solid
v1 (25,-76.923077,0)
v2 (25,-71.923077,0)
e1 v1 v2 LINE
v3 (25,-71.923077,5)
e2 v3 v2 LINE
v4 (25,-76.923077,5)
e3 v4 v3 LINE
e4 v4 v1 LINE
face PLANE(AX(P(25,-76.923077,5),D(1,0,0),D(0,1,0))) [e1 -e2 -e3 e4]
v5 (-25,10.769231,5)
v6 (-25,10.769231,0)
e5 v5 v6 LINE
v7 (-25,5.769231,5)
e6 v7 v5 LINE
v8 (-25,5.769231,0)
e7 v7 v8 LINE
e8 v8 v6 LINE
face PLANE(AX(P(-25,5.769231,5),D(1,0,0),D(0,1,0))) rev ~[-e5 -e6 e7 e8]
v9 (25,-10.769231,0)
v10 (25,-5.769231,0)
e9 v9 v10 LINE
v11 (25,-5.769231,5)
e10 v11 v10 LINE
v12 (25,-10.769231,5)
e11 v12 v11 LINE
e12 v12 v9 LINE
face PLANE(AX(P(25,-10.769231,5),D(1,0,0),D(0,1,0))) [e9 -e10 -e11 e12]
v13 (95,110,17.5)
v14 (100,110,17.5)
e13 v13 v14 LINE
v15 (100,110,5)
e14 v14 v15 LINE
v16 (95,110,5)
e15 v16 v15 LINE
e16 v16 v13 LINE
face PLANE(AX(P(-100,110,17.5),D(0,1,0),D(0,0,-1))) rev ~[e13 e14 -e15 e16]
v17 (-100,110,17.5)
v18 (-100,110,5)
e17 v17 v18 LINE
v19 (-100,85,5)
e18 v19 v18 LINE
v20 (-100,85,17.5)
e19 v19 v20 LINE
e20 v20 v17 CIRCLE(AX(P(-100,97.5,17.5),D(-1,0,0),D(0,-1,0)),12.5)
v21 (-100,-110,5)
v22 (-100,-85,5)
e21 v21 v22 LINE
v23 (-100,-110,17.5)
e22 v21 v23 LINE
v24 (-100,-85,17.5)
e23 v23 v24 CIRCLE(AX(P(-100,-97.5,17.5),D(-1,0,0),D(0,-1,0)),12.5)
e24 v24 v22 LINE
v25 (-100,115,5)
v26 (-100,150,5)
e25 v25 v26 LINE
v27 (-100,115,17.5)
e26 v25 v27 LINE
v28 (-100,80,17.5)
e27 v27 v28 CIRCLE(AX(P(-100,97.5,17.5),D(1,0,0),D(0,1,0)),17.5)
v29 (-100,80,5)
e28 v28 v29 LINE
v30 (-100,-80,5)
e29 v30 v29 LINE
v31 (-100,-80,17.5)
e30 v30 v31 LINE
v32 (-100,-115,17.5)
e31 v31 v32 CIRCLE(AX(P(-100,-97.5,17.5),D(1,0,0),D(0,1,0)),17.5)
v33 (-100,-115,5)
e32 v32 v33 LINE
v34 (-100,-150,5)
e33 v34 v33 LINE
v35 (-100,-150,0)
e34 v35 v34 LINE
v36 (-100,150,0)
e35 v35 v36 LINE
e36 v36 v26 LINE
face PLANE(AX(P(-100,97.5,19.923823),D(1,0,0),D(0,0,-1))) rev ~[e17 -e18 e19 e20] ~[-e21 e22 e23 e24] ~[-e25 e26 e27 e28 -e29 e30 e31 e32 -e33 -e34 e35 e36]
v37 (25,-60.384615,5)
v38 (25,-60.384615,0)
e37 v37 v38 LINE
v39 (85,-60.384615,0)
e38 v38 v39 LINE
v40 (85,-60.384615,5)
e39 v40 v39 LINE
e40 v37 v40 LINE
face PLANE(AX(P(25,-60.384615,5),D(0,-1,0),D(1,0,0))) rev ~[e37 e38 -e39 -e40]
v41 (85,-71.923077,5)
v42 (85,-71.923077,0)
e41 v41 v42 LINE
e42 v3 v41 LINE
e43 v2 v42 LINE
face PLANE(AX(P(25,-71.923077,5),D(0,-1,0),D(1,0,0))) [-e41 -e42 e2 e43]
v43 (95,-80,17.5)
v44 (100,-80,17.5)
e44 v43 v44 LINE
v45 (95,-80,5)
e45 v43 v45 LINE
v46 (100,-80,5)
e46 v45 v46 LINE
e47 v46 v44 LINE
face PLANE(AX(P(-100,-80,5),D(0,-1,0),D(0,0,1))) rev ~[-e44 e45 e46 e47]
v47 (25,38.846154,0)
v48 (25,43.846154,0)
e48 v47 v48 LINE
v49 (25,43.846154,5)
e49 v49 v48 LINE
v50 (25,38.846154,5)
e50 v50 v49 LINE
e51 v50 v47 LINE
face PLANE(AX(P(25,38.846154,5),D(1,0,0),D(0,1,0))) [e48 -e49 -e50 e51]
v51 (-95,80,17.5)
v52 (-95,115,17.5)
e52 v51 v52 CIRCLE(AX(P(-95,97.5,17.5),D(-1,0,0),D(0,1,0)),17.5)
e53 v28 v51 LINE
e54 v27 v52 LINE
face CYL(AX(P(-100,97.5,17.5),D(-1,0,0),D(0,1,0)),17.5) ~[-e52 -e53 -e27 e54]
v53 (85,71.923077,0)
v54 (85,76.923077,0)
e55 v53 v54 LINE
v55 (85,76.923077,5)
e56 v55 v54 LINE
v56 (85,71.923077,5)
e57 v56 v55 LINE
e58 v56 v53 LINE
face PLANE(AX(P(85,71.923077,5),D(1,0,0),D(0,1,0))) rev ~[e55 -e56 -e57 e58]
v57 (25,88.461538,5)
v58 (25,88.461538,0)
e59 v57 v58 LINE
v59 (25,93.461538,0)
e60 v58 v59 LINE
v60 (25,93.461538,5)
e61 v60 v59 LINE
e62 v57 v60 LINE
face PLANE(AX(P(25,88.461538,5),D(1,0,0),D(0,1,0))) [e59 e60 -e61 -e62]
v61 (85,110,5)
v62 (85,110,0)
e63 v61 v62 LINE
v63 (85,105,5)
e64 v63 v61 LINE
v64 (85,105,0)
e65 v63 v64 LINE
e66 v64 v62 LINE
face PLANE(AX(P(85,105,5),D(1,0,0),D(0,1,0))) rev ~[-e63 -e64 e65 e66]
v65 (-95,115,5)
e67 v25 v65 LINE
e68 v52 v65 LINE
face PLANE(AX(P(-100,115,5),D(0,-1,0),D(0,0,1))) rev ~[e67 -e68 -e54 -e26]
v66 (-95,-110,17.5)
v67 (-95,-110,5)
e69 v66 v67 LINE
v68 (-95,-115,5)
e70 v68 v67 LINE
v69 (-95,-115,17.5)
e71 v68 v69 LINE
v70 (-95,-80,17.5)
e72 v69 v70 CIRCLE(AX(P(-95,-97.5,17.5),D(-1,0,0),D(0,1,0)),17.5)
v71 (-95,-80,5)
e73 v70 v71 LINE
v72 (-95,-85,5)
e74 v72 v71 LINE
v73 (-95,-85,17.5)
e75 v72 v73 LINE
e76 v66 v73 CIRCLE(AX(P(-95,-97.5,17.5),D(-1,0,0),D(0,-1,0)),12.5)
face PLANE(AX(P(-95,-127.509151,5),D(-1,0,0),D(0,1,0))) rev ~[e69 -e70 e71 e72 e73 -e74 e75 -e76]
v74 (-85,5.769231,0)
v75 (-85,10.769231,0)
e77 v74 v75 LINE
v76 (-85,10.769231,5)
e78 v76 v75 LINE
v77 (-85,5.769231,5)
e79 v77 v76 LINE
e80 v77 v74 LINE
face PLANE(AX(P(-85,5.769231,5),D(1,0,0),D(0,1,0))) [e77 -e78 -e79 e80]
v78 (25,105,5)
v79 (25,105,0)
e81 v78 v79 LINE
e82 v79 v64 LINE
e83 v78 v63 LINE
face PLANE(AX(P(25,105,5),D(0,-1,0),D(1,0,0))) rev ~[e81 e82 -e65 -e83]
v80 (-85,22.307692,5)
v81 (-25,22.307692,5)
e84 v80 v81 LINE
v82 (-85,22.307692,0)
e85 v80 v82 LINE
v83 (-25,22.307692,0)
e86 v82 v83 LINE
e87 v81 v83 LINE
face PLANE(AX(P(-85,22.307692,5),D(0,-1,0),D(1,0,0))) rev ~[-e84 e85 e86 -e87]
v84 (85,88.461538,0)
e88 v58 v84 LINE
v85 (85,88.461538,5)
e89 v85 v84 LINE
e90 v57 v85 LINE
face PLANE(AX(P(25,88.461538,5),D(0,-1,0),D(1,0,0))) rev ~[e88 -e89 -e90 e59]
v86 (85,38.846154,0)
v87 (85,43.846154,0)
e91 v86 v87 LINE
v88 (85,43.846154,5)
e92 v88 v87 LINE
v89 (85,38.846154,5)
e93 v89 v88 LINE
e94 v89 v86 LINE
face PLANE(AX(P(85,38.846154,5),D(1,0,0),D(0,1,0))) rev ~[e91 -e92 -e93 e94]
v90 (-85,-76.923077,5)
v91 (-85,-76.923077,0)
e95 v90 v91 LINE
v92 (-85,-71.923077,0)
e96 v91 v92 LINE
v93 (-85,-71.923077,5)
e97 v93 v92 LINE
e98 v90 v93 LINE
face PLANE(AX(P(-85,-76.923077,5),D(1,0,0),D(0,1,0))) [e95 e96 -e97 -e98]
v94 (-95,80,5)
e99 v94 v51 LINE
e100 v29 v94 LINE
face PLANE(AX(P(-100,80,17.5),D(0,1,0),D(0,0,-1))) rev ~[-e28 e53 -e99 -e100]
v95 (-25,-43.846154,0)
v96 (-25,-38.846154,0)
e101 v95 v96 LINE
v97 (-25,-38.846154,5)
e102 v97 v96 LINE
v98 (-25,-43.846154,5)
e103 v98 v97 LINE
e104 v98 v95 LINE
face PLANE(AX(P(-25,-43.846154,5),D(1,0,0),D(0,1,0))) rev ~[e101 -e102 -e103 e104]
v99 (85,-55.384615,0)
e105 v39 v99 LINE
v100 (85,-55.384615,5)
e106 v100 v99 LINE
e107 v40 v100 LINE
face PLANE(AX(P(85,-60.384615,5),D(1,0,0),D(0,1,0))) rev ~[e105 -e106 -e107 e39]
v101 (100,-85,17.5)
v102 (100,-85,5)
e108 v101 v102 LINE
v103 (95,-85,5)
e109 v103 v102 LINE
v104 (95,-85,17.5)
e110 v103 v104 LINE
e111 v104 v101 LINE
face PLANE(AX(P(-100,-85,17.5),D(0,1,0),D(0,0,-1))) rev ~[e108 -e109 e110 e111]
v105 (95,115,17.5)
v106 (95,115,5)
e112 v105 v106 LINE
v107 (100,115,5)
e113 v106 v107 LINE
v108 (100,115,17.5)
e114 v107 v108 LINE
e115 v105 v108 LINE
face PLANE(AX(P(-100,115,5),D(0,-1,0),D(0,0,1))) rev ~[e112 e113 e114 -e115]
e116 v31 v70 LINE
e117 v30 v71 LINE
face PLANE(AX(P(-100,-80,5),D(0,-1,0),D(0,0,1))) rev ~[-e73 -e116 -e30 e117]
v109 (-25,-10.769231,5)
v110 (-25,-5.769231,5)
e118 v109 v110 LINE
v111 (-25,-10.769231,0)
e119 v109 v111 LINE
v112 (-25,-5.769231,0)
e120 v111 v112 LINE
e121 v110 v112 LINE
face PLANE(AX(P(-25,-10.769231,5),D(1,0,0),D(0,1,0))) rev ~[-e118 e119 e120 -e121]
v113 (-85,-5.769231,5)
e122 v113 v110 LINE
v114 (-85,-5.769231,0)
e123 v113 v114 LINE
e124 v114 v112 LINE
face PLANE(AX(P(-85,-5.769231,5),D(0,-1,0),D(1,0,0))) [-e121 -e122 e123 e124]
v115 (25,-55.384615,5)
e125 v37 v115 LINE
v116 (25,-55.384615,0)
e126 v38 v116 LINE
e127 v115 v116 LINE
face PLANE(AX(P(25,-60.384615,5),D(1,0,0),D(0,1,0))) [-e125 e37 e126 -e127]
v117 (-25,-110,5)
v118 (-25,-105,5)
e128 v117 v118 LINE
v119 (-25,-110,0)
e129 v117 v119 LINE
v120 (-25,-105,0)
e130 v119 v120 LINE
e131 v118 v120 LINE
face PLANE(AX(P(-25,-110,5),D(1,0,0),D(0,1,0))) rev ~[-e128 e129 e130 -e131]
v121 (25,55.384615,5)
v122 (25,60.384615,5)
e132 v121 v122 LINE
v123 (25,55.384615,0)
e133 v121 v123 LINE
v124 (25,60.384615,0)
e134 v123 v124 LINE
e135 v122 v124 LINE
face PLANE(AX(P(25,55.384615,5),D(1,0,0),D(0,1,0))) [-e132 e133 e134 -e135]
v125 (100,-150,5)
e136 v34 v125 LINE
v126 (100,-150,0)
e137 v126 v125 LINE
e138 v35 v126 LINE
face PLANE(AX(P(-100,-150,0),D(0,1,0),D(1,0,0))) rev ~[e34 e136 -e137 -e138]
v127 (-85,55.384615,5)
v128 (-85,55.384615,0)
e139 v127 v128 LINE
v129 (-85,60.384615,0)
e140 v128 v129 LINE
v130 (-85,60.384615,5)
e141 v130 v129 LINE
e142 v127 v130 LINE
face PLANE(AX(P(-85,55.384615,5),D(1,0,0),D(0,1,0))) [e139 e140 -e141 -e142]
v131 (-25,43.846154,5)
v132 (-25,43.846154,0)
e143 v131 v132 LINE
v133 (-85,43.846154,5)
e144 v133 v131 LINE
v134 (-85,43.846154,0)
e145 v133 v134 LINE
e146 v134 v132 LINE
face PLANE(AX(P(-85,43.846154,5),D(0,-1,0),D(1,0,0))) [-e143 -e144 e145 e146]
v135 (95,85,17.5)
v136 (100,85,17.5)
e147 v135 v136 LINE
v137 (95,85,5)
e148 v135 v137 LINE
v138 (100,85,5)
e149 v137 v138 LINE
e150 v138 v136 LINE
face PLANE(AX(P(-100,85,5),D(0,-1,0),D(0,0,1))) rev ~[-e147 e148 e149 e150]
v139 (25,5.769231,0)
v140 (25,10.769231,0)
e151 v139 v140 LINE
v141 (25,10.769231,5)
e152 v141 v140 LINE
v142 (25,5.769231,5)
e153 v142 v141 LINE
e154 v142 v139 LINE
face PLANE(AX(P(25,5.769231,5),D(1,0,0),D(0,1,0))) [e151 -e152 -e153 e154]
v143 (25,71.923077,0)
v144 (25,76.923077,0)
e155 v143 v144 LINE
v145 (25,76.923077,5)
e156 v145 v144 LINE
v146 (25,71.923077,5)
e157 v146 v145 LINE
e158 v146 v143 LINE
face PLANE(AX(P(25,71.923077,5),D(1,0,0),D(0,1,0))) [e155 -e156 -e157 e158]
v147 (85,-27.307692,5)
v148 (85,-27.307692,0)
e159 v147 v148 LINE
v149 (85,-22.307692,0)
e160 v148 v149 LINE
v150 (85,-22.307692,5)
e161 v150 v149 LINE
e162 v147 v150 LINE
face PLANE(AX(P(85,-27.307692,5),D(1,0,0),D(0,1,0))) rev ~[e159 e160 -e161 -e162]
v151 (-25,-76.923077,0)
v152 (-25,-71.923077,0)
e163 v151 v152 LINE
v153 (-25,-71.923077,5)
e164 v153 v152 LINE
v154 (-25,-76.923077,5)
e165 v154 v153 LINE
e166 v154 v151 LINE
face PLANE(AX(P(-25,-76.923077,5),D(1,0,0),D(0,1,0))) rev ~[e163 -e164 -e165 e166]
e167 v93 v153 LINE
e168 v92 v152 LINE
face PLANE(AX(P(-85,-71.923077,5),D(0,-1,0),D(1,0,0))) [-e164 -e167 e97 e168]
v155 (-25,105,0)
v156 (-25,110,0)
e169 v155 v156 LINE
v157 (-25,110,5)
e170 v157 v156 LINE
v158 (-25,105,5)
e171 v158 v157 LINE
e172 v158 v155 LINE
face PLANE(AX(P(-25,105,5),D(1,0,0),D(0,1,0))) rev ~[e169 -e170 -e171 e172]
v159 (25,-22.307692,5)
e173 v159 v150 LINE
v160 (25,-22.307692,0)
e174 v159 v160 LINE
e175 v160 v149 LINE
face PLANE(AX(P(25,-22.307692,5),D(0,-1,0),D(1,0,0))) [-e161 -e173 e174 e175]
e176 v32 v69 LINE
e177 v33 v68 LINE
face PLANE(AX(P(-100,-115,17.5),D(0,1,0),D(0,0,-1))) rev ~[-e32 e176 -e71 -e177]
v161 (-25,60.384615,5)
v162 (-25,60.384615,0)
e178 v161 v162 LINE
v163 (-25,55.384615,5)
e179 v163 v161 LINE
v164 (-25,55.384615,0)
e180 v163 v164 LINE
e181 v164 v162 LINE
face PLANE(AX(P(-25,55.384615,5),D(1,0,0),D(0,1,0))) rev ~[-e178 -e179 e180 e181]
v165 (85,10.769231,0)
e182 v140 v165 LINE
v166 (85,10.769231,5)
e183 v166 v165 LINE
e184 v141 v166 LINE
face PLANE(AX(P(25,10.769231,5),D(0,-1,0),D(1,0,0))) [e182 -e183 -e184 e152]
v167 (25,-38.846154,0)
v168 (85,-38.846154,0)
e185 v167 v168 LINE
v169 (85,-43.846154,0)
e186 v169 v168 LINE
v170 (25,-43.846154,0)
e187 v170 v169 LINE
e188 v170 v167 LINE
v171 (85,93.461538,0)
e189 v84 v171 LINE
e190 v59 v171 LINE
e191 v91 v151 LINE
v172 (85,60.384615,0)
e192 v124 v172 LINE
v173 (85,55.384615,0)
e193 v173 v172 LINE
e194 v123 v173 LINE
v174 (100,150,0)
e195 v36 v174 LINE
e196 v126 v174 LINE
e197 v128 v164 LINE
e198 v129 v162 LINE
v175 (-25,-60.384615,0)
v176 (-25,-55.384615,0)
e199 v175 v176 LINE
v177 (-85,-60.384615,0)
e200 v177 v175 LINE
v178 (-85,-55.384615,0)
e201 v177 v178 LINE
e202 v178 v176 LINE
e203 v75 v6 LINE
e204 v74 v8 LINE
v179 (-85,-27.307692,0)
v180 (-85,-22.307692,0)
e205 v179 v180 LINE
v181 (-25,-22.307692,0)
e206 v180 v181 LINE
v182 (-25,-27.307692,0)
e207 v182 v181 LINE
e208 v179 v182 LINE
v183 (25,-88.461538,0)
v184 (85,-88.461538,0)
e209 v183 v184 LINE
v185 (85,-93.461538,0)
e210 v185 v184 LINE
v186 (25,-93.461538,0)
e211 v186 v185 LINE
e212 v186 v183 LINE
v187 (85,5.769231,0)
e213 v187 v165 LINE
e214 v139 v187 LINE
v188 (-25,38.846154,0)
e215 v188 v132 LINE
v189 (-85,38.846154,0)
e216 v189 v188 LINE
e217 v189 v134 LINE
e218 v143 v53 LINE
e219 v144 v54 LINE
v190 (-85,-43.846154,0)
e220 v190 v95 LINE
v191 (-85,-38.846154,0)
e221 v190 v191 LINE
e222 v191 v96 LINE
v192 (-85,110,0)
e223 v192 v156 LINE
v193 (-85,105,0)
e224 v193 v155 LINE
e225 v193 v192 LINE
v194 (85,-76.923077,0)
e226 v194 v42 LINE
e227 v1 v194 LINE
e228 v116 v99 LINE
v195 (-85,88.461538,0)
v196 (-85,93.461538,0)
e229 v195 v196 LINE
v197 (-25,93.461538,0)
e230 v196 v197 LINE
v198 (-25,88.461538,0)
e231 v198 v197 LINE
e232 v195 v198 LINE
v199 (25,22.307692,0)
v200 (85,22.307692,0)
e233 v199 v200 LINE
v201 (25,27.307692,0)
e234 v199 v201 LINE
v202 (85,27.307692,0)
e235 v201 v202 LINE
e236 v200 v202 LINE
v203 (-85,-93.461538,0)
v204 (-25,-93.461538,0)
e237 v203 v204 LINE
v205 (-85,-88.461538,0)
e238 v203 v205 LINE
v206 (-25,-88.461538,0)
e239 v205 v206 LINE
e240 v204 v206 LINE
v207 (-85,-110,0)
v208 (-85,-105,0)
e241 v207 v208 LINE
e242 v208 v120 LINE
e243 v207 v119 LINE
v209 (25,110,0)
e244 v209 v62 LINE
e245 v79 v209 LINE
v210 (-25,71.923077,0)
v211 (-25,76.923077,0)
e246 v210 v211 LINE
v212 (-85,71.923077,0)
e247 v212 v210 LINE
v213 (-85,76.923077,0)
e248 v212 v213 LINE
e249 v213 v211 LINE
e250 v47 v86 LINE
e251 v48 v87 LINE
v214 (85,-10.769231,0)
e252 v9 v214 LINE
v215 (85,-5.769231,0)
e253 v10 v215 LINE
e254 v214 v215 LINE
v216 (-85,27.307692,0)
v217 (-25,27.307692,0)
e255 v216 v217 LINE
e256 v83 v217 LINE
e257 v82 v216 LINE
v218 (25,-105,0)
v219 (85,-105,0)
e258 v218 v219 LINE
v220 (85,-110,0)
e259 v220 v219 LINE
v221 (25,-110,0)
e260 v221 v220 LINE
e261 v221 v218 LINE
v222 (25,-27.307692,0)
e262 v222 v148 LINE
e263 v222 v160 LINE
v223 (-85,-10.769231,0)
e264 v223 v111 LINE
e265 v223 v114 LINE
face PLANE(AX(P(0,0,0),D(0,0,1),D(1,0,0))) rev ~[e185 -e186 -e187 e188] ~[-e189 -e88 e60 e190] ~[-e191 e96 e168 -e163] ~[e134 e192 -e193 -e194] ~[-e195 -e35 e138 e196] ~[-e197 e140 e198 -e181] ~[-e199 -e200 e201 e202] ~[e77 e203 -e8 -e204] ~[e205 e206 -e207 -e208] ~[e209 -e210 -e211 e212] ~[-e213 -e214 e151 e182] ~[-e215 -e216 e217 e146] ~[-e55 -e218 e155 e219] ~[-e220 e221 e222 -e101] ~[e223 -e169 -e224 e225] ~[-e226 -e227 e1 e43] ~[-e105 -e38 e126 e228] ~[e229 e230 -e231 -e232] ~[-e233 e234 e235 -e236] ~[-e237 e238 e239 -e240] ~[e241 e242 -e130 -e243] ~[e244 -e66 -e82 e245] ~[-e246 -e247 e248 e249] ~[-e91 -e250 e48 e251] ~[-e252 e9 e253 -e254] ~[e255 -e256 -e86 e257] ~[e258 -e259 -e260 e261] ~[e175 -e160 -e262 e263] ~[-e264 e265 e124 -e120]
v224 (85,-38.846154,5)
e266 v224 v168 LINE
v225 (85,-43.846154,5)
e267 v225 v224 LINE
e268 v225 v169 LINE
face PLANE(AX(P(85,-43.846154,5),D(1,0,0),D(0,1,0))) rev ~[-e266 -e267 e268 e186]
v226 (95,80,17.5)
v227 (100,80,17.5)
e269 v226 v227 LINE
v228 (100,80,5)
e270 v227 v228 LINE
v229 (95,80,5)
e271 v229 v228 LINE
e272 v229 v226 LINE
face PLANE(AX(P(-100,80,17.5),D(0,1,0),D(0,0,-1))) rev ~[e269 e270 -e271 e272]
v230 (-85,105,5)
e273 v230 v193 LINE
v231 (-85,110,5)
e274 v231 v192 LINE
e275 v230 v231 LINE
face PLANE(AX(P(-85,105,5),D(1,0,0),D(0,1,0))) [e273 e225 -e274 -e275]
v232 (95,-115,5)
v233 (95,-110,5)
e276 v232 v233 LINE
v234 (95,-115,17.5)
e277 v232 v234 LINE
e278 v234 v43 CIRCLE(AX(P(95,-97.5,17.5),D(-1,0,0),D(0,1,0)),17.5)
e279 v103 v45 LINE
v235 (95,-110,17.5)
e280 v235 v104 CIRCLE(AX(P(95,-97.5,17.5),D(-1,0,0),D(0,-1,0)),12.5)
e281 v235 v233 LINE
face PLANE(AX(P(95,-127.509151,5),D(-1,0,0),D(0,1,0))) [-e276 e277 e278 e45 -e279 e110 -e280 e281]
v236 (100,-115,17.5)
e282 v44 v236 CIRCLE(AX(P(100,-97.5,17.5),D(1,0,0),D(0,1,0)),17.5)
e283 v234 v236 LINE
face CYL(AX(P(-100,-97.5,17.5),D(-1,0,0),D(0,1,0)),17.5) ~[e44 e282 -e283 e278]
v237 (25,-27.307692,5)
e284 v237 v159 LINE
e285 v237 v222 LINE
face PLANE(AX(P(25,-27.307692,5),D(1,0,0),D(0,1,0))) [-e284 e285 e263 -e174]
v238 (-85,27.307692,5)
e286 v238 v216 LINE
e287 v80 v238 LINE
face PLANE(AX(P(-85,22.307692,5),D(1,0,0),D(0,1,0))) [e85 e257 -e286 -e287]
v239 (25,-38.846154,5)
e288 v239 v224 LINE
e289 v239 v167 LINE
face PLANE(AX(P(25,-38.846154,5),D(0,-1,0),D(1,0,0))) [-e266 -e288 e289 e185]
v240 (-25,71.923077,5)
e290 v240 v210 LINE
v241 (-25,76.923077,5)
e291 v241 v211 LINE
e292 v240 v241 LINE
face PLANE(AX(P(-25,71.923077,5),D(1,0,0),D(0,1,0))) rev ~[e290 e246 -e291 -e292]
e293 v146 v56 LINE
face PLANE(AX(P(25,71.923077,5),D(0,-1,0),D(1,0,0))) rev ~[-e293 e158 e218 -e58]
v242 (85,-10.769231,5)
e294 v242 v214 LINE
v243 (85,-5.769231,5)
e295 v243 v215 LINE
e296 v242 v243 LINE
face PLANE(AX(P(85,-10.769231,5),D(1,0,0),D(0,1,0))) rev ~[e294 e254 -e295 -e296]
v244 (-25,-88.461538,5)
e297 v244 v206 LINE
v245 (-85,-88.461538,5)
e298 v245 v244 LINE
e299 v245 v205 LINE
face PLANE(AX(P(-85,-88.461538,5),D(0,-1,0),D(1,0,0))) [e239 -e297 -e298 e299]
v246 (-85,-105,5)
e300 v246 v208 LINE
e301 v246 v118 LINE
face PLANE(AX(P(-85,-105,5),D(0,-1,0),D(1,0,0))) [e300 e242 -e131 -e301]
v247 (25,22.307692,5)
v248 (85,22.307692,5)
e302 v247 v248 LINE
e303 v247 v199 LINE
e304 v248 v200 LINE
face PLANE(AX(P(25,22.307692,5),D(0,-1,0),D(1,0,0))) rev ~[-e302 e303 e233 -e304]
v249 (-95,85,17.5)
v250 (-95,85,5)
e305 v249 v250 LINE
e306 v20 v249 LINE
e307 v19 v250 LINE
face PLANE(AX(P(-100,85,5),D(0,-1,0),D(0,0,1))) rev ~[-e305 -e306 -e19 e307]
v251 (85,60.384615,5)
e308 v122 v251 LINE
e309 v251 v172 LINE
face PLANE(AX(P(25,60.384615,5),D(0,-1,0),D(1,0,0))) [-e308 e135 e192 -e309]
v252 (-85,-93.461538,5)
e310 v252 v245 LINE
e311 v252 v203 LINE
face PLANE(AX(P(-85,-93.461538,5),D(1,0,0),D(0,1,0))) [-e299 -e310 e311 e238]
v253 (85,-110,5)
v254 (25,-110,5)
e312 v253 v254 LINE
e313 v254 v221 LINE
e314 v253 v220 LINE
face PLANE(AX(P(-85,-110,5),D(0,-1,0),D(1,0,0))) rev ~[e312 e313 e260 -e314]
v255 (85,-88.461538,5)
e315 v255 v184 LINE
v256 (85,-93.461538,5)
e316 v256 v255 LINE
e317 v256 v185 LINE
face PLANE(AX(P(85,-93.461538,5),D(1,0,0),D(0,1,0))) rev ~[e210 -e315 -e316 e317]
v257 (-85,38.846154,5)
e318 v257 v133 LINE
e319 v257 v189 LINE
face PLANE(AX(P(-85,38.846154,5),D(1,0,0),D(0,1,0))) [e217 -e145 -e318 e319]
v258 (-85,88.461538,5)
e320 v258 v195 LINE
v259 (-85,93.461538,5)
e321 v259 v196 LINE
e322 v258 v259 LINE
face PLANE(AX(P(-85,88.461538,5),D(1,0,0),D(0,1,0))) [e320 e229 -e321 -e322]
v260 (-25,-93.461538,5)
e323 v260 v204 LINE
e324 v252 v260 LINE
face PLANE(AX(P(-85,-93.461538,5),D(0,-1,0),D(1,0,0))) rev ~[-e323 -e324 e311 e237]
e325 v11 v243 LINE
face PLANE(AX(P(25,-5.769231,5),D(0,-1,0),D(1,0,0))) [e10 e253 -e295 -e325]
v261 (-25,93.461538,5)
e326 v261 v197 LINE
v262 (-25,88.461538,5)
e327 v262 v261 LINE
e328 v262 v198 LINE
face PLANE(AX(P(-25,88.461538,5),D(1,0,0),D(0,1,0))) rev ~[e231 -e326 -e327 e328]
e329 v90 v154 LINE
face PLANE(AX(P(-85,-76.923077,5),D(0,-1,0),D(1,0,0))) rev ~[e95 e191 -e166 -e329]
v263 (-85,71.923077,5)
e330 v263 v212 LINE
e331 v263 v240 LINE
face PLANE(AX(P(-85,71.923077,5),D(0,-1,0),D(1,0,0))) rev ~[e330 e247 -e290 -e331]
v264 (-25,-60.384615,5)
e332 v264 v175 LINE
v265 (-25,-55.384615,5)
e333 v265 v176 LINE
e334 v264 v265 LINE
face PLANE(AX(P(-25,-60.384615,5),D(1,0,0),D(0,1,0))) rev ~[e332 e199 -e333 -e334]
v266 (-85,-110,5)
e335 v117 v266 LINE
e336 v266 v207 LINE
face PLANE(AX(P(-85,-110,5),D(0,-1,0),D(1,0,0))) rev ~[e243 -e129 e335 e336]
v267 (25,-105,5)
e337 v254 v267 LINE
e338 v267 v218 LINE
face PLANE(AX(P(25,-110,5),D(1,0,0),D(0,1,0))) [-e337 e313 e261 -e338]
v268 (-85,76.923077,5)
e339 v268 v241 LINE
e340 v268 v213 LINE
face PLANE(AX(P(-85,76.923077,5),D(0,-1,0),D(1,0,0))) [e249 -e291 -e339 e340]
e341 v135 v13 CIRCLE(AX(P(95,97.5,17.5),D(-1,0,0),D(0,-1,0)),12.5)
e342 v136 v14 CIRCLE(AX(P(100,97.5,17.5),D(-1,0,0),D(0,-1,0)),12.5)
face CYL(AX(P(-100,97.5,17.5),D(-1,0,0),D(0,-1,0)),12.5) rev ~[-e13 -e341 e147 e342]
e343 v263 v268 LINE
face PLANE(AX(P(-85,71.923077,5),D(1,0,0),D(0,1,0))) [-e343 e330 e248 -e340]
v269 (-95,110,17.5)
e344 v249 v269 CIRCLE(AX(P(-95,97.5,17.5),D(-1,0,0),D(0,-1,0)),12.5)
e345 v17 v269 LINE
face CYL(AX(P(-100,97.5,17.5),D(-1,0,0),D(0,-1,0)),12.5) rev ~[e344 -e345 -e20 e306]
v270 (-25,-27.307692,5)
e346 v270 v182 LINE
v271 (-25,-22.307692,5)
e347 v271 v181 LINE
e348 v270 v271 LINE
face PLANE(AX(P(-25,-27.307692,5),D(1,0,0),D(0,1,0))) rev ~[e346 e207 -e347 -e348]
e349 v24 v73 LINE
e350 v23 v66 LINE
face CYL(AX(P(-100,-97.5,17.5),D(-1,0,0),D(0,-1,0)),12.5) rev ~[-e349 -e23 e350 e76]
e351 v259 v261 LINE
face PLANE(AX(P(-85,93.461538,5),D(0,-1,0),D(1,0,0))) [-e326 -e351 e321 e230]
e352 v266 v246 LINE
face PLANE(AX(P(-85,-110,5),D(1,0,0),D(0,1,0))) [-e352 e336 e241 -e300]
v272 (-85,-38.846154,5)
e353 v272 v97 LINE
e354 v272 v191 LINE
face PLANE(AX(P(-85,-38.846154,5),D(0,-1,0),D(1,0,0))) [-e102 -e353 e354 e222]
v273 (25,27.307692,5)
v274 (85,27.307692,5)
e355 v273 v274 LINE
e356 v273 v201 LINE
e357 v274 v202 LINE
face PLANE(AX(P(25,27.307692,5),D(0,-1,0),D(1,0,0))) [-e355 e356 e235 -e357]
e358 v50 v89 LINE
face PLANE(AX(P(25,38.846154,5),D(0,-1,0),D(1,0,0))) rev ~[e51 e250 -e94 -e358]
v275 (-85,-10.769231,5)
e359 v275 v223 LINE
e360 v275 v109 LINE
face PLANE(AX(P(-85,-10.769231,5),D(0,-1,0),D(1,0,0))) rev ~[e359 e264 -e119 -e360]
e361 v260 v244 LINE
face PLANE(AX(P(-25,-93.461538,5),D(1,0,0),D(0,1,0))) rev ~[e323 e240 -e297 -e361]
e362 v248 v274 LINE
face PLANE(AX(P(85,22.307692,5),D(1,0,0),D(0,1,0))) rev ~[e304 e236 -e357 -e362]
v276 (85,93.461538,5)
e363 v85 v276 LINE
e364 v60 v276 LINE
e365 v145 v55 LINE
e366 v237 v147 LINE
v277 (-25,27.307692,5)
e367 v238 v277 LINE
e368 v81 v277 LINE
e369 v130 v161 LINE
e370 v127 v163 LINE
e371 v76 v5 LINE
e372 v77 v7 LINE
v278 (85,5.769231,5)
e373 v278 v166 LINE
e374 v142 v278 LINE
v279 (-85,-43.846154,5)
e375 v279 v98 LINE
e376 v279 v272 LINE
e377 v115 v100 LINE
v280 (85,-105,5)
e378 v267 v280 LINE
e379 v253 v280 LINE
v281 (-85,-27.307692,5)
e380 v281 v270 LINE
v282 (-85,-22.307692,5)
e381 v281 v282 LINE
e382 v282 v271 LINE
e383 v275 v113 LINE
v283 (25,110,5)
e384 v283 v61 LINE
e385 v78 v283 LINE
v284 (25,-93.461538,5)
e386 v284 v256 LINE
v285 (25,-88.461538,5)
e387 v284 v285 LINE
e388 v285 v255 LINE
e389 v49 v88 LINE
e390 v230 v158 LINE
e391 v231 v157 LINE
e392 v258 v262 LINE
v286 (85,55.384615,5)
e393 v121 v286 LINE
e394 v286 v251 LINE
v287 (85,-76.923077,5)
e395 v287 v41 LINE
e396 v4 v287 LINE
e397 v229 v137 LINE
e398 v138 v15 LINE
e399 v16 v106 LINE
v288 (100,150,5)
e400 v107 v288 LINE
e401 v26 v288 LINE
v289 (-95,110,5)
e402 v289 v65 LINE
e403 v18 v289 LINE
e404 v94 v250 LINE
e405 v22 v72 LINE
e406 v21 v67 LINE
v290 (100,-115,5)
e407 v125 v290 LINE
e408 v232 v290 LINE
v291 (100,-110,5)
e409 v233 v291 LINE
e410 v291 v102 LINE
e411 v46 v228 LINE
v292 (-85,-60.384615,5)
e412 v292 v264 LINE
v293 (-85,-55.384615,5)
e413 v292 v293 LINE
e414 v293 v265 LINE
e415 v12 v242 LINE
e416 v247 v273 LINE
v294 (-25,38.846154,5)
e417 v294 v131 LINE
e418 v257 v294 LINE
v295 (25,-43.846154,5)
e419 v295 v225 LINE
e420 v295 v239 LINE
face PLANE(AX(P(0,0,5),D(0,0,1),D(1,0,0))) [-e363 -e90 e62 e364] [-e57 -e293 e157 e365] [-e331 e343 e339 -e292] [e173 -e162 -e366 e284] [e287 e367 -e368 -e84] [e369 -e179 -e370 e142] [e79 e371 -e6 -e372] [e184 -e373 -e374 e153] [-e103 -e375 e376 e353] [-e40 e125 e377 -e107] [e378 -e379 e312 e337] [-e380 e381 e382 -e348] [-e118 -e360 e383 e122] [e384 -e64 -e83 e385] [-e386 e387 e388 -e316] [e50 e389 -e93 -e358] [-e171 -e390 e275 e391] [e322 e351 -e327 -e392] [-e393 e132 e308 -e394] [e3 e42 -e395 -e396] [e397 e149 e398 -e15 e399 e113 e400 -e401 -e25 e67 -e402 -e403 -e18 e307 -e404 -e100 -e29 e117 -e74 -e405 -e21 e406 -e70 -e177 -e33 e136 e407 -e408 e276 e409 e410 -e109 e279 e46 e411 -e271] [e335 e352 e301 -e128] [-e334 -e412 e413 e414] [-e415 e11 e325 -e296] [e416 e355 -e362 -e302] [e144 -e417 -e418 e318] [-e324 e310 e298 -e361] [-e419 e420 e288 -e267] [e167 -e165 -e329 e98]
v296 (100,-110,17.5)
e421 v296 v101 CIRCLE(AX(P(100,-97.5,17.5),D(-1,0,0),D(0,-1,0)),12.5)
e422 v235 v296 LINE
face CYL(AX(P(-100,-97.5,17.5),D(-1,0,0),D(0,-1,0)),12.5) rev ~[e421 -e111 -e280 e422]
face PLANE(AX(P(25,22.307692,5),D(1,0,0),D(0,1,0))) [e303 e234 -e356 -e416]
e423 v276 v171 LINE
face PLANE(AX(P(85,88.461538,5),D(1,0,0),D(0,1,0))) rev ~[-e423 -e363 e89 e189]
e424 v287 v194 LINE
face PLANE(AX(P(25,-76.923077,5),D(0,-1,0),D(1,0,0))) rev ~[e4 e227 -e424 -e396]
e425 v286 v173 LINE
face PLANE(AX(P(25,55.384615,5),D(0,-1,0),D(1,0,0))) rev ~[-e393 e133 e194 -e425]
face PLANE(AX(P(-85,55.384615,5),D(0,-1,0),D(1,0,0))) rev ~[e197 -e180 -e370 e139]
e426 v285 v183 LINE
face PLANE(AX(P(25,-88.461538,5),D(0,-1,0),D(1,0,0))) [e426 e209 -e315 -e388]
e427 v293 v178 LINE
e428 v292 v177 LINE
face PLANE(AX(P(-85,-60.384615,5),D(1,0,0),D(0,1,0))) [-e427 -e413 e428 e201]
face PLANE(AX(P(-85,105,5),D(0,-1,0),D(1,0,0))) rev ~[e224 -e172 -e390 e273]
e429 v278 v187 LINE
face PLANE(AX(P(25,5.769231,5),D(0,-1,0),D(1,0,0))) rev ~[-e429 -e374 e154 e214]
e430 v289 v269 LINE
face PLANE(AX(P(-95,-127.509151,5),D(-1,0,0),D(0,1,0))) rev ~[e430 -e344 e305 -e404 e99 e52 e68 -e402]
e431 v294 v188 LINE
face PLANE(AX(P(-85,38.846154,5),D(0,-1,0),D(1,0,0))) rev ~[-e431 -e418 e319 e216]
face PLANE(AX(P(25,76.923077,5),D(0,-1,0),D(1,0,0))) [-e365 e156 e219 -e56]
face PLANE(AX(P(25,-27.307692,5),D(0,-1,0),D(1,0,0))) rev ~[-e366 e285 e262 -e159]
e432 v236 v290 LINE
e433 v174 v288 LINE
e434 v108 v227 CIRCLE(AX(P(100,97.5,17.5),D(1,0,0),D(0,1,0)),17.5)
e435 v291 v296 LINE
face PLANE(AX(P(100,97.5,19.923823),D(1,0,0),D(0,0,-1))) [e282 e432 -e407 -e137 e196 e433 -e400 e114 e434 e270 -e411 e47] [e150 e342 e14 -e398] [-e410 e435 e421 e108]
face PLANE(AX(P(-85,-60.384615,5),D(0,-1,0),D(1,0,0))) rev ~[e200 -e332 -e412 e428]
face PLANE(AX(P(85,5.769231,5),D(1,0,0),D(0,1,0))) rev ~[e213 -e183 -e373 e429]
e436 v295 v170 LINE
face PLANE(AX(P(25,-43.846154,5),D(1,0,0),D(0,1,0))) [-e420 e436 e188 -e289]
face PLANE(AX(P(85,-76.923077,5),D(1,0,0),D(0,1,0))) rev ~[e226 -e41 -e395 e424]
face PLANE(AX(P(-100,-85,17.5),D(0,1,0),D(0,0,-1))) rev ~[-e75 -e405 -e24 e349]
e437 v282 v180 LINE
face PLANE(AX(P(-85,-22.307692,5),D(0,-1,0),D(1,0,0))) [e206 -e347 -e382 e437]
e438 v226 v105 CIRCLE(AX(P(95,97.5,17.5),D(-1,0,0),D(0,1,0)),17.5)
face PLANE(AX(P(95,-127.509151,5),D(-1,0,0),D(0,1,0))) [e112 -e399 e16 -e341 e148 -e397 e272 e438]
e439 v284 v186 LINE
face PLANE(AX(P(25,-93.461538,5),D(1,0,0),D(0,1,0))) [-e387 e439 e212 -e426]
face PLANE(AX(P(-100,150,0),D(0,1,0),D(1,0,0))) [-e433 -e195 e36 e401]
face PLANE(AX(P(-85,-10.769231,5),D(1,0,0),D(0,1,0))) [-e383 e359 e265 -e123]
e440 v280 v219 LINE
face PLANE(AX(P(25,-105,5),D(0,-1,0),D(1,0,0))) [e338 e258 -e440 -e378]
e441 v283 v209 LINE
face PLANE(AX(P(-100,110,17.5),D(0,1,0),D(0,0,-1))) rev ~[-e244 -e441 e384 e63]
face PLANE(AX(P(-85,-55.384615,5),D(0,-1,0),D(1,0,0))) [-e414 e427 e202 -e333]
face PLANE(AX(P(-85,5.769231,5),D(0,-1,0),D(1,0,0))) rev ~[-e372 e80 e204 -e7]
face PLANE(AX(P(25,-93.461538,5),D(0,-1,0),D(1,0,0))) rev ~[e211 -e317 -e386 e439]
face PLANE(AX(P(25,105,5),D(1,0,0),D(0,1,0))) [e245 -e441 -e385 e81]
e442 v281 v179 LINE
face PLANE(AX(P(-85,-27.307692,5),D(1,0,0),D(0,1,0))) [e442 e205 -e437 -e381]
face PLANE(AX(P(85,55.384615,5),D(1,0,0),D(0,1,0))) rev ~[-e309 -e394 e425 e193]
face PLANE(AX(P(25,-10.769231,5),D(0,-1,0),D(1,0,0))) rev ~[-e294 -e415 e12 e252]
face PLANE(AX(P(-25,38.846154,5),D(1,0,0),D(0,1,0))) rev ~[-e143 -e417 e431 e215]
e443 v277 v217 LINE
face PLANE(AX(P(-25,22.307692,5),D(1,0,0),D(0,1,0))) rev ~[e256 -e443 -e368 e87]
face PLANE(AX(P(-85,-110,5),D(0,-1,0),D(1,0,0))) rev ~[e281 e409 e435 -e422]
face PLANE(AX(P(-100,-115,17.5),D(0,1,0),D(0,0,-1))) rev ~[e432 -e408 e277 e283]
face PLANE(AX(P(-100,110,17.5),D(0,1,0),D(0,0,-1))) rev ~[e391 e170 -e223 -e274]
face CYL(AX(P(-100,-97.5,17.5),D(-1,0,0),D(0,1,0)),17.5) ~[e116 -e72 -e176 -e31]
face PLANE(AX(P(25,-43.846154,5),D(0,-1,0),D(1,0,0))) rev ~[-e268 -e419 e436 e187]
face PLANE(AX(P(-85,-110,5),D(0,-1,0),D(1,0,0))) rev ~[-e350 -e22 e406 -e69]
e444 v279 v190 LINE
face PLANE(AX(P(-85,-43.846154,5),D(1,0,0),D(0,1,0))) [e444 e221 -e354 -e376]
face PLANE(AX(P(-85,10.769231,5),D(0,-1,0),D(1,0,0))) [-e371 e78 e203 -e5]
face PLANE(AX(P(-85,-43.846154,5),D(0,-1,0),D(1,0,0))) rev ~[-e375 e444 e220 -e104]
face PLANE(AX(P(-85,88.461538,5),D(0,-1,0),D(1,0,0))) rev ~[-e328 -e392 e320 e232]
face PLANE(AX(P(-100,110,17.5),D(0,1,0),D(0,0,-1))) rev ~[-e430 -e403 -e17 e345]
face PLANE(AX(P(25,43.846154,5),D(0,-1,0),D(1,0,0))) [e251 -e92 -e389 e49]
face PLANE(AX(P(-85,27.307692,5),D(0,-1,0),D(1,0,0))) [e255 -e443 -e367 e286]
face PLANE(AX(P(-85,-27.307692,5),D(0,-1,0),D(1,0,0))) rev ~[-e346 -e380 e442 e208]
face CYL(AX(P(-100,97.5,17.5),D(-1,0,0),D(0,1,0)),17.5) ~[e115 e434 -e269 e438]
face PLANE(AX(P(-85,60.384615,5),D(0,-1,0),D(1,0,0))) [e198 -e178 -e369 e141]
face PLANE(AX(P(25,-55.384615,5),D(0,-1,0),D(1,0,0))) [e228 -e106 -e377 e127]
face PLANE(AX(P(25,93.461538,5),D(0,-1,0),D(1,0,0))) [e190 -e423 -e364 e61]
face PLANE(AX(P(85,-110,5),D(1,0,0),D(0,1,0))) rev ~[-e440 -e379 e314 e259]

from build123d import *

# Parameters (mm, degrees)
CROQUIS1_W              = 200
CROQUIS1_H              = 300
SALIENTE_EXTRUIR1_DEPTH = 5
CROQUIS2_W              = 60
CROQUIS2_H              = 5
CORTAR_EXTRUIR1_DEPTH   = 181.346887969
EXTRUIR_L_MINA1_DEPTH   = 200
CROQUIS7_W              = 190
CROQUIS7_H              = 272.300046581
CORTAR_EXTRUIR2_DEPTH   = 183.756668825


with BuildPart() as part:
    # Croquis1 → Saliente-Extruir1 (new body)
    with BuildSketch(Plane.XY):
        Rectangle(CROQUIS1_W, CROQUIS1_H)
    extrude(amount=SALIENTE_EXTRUIR1_DEPTH)

    # Croquis2 → Cortar-Extruir1 (cut, through all)
    with BuildSketch(Plane.XY.offset(5)):
        with Locations((-55, 107.5)):
            Rectangle(CROQUIS2_W, CROQUIS2_H)
        with Locations((55, 107.5)):
            Rectangle(CROQUIS2_W, CROQUIS2_H)
        with Locations((55, 90.961538462)):
            Rectangle(CROQUIS2_W, CROQUIS2_H)
        with Locations((55, 74.423076923)):
            Rectangle(CROQUIS2_W, CROQUIS2_H)
        with Locations((55, 57.884615385)):
            Rectangle(CROQUIS2_W, CROQUIS2_H)
        with Locations((55, 41.346153846)):
            Rectangle(CROQUIS2_W, CROQUIS2_H)
        with Locations((55, 24.807692308)):
            Rectangle(CROQUIS2_W, CROQUIS2_H)
        with Locations((55, 8.269230769)):
            Rectangle(CROQUIS2_W, CROQUIS2_H)
        with Locations((55, -8.269230769)):
            Rectangle(CROQUIS2_W, CROQUIS2_H)
        with Locations((55, -24.807692308)):
            Rectangle(CROQUIS2_W, CROQUIS2_H)
        with Locations((55, -41.346153846)):
            Rectangle(CROQUIS2_W, CROQUIS2_H)
        with Locations((55, -57.884615385)):
            Rectangle(CROQUIS2_W, CROQUIS2_H)
        with Locations((55, -74.423076923)):
            Rectangle(CROQUIS2_W, CROQUIS2_H)
        with Locations((55, -90.961538462)):
            Rectangle(CROQUIS2_W, CROQUIS2_H)
        with Locations((55, -107.5)):
            Rectangle(CROQUIS2_W, CROQUIS2_H)
        with Locations((-55, 90.961538462)):
            Rectangle(CROQUIS2_W, CROQUIS2_H)
        with Locations((-55, 74.423076923)):
            Rectangle(CROQUIS2_W, CROQUIS2_H)
        with Locations((-55, 57.884615385)):
            Rectangle(CROQUIS2_W, CROQUIS2_H)
        with Locations((-55, 41.346153846)):
            Rectangle(CROQUIS2_W, CROQUIS2_H)
        with Locations((-55, 24.807692308)):
            Rectangle(CROQUIS2_W, CROQUIS2_H)
        with Locations((-55, 8.269230769)):
            Rectangle(CROQUIS2_W, CROQUIS2_H)
        with Locations((-55, -8.269230769)):
            Rectangle(CROQUIS2_W, CROQUIS2_H)
        with Locations((-55, -24.807692308)):
            Rectangle(CROQUIS2_W, CROQUIS2_H)
        with Locations((-55, -41.346153846)):
            Rectangle(CROQUIS2_W, CROQUIS2_H)
        with Locations((-55, -57.884615385)):
            Rectangle(CROQUIS2_W, CROQUIS2_H)
        with Locations((-55, -74.423076923)):
            Rectangle(CROQUIS2_W, CROQUIS2_H)
        with Locations((-55, -90.961538462)):
            Rectangle(CROQUIS2_W, CROQUIS2_H)
        with Locations((-55, -107.5)):
            Rectangle(CROQUIS2_W, CROQUIS2_H)
    extrude(amount=-CORTAR_EXTRUIR1_DEPTH, mode=Mode.SUBTRACT)

    # Croquis5 → Extruir-Lámina1 (add)
    with BuildSketch(Plane.ZY.offset(100)):
        with BuildLine():
            Line((5, 85), (17.5, 85))
            ThreePointArc((17.5, 85), (30, 97.5), (17.5, 110))
            Line((17.5, 110), (5, 110))
            Line((5, 110), (5, 115))
            Line((5, 115), (17.5, 115))
            ThreePointArc((17.5, 115), (35, 97.5), (17.5, 80))
            Line((17.5, 80), (5, 80))
            Line((5, 80), (5, 85))
        make_face()
        with BuildLine():
            Line((5, -110), (17.5, -110))
            ThreePointArc((17.5, -110), (30, -97.5), (17.5, -85))
            Line((17.5, -85), (5, -85))
            Line((5, -85), (5, -80))
            Line((5, -80), (17.5, -80))
            ThreePointArc((17.5, -80), (35, -97.5), (17.5, -115))
            Line((17.5, -115), (5, -115))
            Line((5, -115), (5, -110))
        make_face()
    extrude(amount=-EXTRUIR_L_MINA1_DEPTH)

    # Croquis7 → Cortar-Extruir2 (cut, through all)
    with BuildSketch(Plane.XY.offset(5)):
        with Locations((0, 8.640872113)):
            Rectangle(CROQUIS7_W, CROQUIS7_H)
    extrude(amount=CORTAR_EXTRUIR2_DEPTH, mode=Mode.SUBTRACT)


solid = part.part
